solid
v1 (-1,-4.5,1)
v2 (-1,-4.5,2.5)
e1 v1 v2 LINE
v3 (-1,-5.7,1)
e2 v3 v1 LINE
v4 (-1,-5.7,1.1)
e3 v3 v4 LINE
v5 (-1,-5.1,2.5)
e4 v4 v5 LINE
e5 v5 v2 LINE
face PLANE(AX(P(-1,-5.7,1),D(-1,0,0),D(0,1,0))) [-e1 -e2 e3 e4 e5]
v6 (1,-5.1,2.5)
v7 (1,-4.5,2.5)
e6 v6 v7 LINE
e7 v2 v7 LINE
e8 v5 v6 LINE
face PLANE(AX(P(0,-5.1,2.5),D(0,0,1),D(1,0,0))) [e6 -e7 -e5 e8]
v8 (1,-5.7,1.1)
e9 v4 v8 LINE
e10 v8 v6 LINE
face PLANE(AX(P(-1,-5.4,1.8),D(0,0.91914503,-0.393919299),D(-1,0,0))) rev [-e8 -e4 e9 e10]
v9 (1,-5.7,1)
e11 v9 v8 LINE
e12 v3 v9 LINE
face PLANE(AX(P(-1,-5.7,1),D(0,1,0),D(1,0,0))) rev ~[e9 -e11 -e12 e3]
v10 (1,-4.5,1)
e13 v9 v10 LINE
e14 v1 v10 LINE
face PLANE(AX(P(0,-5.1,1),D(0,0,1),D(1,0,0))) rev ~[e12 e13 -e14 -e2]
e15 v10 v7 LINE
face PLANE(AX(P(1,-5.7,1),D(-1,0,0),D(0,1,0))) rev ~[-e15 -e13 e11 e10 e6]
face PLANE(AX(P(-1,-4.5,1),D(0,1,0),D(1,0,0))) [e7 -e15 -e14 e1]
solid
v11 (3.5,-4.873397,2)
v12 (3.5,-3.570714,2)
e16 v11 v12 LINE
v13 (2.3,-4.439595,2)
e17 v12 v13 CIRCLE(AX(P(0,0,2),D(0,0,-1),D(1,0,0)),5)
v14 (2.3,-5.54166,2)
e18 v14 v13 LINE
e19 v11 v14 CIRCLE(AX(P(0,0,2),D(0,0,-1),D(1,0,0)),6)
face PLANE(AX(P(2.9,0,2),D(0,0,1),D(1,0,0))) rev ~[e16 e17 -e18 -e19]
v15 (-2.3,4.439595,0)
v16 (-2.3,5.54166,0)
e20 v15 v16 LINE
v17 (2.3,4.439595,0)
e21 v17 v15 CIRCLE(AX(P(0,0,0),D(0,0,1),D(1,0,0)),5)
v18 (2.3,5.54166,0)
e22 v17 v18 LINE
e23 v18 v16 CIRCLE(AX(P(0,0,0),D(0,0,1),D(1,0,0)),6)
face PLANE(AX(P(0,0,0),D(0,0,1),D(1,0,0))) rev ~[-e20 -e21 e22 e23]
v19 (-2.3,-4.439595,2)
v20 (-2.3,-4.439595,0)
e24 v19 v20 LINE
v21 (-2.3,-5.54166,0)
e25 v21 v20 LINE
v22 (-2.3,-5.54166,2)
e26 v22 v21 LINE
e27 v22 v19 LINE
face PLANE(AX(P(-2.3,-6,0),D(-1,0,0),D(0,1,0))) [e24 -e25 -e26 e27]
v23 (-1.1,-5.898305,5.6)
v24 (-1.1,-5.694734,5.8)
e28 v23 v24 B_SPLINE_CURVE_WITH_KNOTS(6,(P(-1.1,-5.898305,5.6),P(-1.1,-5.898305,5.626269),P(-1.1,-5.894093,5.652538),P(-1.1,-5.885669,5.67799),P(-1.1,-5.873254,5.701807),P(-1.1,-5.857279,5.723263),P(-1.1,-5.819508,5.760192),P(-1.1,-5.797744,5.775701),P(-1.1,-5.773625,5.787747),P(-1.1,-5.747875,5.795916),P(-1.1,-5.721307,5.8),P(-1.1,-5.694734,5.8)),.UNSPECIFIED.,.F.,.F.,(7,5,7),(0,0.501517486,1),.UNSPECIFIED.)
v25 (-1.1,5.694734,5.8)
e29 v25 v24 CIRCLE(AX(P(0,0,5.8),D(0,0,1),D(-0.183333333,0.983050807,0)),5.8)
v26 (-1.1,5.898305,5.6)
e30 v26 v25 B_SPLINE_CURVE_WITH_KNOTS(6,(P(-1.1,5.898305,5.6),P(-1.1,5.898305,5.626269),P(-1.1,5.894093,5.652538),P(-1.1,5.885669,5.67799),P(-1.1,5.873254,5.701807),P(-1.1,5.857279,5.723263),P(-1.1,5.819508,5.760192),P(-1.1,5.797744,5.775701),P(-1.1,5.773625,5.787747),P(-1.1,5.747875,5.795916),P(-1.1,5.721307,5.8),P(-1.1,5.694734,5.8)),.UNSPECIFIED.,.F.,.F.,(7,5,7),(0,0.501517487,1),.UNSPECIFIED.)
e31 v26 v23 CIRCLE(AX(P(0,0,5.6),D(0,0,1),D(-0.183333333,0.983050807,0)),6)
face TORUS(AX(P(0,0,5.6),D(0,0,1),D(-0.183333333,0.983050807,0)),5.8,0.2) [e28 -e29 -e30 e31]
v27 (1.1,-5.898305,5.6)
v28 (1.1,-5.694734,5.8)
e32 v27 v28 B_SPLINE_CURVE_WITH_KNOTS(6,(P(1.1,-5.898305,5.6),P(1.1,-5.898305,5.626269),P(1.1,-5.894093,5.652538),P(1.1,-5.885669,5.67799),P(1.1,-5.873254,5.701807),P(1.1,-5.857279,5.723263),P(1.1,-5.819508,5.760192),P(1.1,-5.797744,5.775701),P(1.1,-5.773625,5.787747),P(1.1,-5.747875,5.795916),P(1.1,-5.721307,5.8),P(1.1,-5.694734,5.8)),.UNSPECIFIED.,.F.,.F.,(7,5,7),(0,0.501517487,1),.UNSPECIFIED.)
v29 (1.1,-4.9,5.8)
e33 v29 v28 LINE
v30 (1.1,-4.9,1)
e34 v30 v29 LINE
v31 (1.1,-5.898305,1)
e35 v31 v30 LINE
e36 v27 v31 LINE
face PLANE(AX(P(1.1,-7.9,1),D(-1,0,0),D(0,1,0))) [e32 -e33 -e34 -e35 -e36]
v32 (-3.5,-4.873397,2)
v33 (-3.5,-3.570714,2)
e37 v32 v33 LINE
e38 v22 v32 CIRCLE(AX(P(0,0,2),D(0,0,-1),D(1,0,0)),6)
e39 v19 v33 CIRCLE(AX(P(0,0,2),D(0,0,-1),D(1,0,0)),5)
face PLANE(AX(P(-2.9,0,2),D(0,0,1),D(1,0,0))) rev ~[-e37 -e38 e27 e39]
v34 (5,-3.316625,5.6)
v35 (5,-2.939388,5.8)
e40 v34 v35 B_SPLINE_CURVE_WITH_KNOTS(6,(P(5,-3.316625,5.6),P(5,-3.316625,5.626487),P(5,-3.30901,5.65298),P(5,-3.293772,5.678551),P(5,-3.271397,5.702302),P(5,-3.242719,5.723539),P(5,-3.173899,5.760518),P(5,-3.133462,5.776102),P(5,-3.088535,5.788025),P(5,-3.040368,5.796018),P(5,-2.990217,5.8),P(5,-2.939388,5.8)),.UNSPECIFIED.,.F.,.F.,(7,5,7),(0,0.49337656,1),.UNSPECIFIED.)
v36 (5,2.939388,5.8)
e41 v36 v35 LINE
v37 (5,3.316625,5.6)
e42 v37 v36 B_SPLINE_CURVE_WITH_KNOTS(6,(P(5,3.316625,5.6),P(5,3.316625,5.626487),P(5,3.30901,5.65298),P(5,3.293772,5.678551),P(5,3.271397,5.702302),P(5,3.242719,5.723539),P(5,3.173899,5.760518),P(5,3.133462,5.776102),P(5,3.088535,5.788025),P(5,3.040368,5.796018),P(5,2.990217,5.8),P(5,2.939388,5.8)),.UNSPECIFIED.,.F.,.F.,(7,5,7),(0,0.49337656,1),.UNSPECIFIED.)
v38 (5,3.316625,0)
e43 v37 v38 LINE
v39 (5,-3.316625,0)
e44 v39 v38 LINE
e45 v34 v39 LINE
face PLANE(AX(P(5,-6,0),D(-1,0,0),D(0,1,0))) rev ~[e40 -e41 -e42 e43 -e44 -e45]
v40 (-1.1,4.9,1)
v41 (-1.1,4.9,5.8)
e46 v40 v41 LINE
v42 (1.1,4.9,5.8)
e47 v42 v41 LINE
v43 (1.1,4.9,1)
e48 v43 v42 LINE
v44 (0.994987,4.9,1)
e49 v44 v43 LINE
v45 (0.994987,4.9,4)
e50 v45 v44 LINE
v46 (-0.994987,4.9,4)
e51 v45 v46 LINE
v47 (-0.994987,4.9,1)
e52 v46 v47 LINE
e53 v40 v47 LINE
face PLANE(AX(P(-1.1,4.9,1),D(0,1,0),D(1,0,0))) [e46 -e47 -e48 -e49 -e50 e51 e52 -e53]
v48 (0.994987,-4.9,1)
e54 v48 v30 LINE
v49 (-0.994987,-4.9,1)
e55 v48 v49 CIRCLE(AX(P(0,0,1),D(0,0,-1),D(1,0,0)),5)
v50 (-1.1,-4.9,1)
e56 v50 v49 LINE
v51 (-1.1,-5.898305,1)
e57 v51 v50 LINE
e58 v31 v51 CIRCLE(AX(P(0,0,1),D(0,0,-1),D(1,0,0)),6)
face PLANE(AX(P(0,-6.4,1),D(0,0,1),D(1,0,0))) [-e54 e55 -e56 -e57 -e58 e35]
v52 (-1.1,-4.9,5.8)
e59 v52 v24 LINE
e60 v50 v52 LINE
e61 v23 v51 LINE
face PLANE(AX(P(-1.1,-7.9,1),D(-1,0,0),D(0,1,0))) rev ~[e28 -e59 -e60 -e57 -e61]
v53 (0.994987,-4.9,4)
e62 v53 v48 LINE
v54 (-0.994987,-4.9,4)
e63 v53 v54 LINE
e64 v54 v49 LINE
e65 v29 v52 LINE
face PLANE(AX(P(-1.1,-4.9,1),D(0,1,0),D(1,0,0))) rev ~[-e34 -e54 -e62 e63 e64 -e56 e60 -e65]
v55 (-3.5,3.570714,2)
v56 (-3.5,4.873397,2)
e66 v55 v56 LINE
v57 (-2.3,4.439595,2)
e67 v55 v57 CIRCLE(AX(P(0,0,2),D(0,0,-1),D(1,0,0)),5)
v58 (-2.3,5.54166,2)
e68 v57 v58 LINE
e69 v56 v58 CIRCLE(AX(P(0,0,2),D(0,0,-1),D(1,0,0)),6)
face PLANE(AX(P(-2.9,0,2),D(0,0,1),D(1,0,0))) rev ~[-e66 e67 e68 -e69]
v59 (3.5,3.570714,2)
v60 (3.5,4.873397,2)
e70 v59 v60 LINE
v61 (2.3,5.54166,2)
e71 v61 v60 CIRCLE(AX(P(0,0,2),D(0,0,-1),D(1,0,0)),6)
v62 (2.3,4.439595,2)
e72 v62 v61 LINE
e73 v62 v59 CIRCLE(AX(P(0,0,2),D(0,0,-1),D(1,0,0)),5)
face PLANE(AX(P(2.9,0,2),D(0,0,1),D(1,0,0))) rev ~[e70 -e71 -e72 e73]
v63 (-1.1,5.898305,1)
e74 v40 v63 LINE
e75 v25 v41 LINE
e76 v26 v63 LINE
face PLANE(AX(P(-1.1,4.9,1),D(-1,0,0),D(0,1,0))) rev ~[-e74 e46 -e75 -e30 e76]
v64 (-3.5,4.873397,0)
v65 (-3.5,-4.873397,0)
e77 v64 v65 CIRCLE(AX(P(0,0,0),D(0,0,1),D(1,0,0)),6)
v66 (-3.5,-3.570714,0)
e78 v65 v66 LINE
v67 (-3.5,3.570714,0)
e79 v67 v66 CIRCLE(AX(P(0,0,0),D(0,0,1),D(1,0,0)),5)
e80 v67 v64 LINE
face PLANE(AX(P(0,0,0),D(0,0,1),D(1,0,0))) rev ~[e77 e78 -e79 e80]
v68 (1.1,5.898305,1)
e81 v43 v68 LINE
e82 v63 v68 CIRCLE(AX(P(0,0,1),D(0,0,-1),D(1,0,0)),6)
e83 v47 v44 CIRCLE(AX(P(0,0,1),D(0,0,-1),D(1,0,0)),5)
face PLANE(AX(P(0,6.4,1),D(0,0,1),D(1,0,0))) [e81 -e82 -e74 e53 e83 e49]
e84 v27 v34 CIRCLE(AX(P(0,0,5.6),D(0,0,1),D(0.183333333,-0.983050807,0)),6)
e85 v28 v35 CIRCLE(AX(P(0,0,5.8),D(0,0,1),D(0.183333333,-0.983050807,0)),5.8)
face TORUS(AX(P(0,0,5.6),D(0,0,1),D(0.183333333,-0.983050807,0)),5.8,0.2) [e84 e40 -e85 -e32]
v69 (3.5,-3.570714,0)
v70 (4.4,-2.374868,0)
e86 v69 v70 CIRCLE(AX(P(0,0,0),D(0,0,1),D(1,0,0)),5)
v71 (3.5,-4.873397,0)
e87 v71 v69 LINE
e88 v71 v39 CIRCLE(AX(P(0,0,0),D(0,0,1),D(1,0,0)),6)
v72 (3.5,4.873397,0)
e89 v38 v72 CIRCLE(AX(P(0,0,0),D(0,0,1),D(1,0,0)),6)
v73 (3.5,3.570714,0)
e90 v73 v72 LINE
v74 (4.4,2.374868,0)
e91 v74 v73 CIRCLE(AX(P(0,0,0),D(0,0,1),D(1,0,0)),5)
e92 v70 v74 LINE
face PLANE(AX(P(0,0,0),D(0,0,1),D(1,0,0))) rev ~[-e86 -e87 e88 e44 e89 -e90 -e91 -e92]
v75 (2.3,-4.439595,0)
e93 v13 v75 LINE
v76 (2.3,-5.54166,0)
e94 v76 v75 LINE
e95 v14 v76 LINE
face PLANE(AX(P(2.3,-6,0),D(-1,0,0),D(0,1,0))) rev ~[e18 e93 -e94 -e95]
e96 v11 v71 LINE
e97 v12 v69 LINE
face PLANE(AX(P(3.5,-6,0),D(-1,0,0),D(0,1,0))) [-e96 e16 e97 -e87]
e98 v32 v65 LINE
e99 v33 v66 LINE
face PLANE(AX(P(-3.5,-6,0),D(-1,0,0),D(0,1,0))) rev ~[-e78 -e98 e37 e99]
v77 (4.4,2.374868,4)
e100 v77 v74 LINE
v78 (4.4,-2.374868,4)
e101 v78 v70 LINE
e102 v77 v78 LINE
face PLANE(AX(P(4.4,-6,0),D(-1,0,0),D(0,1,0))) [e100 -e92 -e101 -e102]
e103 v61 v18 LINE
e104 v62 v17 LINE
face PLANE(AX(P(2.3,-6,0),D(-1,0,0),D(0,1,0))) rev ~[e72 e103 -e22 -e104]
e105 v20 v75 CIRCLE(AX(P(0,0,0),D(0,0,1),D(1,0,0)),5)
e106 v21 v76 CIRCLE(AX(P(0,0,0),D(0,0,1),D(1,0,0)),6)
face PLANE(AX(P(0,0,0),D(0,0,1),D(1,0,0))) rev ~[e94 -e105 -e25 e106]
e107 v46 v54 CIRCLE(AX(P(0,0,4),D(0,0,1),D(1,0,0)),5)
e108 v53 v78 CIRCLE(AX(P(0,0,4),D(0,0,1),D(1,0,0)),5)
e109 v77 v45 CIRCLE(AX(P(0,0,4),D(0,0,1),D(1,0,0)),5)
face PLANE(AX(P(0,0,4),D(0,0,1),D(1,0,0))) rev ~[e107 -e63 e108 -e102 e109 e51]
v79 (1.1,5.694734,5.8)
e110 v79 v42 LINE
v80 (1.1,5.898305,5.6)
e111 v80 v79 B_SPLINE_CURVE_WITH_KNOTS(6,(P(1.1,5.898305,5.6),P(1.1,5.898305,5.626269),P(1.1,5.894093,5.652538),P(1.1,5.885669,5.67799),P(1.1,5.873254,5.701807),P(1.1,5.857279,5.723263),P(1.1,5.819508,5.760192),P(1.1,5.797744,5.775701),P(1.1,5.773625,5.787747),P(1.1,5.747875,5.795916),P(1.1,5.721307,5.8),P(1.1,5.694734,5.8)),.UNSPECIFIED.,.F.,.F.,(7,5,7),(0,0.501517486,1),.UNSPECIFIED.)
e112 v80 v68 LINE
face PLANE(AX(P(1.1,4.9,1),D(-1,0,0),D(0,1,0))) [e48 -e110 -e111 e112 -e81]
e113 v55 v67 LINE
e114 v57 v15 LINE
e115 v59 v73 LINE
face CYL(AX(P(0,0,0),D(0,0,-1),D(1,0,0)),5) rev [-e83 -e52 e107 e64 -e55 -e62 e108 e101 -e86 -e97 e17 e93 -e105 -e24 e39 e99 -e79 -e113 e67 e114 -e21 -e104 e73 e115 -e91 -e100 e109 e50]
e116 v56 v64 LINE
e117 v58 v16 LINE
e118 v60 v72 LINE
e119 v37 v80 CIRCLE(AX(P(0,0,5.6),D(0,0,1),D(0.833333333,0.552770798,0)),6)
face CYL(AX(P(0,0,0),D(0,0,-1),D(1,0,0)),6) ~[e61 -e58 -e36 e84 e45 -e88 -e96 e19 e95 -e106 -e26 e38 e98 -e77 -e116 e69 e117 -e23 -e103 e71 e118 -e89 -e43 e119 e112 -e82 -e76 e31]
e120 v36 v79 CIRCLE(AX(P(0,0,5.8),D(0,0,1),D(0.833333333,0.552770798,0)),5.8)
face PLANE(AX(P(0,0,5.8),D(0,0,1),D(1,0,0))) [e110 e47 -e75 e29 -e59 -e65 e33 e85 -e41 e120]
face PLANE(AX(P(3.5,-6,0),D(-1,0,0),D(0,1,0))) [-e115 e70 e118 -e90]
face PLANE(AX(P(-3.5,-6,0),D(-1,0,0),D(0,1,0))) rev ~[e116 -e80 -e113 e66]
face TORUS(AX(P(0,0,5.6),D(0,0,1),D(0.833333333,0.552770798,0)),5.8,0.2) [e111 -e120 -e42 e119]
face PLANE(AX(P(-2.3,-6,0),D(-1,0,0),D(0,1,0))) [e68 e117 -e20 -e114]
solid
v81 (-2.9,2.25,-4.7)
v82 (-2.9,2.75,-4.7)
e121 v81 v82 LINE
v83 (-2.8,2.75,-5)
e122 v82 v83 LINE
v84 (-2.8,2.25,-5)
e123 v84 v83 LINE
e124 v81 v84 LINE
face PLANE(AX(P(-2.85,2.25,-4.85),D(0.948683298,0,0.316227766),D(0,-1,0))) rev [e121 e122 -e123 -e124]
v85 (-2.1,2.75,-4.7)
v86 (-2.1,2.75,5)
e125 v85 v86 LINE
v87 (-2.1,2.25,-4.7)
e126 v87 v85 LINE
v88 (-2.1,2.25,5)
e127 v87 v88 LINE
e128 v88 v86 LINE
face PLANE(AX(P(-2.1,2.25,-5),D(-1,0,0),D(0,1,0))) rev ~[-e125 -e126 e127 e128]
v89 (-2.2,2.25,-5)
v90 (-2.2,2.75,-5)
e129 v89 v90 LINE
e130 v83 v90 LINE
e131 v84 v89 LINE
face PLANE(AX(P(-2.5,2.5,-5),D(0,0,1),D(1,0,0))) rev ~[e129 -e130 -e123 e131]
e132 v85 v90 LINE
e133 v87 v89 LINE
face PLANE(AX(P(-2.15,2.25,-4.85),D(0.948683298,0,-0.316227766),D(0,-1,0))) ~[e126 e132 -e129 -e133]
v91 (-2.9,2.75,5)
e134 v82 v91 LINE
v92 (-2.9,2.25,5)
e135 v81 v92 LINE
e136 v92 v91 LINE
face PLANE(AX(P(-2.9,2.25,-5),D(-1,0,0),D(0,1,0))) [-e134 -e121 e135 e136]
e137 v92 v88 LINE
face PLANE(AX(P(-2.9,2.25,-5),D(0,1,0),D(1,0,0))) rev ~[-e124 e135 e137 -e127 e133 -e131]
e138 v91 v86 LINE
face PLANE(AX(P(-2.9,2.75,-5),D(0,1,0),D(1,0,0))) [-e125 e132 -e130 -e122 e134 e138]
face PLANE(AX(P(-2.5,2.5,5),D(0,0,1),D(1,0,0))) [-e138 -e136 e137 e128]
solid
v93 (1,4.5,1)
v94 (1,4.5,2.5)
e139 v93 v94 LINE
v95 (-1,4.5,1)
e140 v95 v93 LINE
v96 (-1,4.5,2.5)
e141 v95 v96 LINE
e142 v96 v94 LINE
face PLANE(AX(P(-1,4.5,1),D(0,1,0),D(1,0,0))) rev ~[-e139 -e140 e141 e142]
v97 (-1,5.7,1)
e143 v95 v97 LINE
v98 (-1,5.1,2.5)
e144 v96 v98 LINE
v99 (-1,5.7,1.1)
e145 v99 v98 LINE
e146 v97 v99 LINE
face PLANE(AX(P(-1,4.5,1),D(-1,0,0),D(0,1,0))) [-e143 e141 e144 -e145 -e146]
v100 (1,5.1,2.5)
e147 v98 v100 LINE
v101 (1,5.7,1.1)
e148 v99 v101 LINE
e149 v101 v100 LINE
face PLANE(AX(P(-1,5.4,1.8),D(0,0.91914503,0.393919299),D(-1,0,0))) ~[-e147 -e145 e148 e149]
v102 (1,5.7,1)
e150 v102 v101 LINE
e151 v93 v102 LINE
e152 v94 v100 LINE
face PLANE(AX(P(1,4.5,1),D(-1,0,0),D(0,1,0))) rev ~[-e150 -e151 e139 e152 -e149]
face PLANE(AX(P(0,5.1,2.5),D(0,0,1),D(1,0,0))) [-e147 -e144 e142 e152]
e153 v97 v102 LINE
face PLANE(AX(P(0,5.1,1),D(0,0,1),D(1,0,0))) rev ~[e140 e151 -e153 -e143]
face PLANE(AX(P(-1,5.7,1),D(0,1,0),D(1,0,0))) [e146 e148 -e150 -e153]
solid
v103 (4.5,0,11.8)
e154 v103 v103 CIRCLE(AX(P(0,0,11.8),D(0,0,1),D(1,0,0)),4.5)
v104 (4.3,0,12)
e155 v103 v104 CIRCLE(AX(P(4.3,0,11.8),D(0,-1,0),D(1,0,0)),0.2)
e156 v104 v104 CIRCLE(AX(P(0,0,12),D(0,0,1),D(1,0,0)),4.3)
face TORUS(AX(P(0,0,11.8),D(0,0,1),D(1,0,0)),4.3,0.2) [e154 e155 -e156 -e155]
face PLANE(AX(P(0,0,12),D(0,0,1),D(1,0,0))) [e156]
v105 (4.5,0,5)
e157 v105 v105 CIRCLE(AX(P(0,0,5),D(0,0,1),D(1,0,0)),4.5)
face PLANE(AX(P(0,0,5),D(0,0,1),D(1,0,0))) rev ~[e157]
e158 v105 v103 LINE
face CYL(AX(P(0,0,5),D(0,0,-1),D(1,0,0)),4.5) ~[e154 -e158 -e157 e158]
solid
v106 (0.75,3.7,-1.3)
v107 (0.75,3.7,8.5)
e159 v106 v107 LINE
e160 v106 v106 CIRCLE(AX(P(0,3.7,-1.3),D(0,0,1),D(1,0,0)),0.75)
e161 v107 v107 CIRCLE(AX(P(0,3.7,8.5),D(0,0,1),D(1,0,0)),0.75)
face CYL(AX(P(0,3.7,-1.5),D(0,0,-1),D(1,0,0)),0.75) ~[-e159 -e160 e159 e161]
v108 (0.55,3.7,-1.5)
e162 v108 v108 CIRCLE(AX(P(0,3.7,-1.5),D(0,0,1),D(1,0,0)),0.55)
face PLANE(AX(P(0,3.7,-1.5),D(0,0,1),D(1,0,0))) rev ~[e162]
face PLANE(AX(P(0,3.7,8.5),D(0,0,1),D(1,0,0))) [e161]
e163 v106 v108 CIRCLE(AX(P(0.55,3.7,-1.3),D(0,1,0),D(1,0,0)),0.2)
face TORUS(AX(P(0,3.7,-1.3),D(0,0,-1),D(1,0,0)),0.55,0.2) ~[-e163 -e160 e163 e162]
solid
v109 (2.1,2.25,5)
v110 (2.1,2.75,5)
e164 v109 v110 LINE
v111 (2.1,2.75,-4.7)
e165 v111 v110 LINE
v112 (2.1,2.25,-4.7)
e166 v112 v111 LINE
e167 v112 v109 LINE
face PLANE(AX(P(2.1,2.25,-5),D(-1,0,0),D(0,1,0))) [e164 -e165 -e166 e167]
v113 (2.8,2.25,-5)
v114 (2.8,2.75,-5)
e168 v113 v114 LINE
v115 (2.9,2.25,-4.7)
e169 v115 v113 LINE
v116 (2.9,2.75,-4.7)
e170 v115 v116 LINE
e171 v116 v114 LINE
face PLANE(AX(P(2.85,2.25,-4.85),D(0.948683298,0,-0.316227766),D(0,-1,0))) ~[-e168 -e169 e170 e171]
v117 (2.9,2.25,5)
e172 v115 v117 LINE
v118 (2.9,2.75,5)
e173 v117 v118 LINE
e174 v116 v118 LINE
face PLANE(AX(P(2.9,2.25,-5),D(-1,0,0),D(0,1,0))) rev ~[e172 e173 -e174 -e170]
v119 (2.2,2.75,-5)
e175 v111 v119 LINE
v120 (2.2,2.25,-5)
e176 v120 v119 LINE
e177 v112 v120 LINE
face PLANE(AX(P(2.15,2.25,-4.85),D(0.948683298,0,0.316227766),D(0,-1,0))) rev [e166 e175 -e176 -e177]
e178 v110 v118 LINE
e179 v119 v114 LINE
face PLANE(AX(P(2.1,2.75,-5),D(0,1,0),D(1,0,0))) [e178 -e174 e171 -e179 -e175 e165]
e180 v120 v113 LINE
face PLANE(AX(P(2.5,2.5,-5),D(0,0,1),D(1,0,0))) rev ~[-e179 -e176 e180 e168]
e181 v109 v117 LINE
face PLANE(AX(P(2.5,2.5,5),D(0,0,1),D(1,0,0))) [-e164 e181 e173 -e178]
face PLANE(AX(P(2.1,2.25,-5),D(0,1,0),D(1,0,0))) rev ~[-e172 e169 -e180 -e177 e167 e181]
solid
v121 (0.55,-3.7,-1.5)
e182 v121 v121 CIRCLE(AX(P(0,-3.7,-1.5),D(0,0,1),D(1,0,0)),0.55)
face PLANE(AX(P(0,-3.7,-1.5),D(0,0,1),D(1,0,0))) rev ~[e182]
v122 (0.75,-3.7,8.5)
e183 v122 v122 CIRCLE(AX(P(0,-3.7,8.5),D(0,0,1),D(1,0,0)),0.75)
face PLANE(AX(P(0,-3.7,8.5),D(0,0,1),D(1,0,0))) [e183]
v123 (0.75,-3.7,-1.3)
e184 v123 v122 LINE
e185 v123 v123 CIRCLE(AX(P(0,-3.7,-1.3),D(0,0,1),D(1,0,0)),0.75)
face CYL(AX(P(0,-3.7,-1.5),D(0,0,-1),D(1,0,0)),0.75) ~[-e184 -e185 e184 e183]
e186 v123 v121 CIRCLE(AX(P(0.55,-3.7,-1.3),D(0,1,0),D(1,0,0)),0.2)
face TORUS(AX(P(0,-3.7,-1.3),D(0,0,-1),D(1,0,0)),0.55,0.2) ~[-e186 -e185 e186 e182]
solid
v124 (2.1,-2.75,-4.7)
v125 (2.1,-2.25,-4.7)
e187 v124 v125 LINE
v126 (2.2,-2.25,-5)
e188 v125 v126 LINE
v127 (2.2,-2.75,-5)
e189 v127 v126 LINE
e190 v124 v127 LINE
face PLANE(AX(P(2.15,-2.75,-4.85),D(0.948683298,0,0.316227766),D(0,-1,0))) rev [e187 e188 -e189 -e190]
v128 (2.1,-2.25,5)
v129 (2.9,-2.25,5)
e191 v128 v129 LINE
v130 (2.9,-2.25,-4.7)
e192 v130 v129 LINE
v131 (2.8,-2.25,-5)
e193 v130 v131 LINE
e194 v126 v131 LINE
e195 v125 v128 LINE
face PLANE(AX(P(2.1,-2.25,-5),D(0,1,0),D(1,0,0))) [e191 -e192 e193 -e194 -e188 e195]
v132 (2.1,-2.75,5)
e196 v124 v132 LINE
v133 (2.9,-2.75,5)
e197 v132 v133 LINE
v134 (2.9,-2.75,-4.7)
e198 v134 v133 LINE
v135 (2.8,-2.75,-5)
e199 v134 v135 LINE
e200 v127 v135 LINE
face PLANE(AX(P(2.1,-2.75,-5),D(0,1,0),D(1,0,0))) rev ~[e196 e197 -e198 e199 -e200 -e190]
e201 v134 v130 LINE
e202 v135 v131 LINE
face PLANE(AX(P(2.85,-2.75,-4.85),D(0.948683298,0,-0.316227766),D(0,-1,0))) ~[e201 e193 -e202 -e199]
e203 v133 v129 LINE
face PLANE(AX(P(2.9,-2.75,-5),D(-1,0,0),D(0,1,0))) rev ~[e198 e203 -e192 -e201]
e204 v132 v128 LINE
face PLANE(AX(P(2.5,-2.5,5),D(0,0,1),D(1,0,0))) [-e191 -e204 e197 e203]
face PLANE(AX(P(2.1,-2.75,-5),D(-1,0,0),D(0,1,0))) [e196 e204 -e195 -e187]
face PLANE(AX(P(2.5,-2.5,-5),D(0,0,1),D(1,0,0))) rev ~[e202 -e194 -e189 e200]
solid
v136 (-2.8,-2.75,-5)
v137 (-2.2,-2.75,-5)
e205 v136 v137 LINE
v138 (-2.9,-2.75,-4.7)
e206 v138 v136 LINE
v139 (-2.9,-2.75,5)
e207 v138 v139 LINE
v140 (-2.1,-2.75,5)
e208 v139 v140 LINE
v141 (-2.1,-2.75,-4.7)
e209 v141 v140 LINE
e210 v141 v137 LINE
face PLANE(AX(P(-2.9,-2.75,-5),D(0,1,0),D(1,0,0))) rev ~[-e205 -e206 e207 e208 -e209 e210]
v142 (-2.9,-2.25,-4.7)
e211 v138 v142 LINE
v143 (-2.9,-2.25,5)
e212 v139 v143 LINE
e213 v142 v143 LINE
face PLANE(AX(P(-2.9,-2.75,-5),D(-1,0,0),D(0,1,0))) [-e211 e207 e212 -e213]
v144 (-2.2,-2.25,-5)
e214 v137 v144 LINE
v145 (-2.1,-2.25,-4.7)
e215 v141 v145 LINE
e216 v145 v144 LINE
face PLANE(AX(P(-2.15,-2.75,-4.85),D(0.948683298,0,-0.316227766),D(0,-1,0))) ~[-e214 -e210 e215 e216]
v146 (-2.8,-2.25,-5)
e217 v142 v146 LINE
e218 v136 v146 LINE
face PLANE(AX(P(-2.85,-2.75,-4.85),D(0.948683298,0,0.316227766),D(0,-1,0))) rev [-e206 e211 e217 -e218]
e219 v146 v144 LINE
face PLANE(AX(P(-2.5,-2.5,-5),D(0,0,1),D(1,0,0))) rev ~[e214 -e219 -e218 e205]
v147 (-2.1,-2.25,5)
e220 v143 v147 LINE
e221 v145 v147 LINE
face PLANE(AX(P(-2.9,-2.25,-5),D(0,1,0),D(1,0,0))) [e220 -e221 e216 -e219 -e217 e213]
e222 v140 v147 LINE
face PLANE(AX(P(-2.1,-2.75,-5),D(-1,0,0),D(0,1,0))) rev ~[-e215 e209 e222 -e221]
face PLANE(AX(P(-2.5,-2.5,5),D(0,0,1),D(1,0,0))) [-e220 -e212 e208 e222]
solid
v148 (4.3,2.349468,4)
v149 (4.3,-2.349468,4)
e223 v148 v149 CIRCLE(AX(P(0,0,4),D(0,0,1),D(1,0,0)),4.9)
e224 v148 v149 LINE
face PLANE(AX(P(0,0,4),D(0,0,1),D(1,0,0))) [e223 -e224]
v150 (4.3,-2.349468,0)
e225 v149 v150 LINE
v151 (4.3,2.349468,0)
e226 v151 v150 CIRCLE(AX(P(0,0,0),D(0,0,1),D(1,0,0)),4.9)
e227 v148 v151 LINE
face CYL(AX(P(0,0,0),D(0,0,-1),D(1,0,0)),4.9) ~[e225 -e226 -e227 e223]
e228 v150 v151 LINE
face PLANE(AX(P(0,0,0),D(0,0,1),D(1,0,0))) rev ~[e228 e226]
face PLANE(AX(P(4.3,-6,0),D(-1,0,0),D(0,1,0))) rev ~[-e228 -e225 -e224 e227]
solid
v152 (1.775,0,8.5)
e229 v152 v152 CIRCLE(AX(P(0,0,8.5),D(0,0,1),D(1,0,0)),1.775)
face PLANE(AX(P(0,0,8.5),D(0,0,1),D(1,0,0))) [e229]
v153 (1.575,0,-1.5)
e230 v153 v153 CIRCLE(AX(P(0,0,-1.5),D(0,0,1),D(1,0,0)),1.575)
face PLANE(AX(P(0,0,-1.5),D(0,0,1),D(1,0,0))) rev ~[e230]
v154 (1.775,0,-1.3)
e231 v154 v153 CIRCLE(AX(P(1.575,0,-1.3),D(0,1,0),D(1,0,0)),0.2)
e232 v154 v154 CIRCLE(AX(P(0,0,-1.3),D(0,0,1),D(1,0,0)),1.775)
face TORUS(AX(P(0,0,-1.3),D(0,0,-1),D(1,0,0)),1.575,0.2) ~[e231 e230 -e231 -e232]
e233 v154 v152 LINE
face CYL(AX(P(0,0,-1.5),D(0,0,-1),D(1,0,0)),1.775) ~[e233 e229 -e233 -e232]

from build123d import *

# Parameters (mm, degrees)
CYLINDER004_R      = 0.75
CYLINDER004_DEPTH  = 10
FILLET_R           = 0.2
BOX002_W           = 1
BOX002_H           = 12
BOX002_DEPTH       = 5
CYLINDER006_R      = 4.9
CYLINDER006_DEPTH  = 4
CYLINDER002_R      = 1.775
CYLINDER002_DEPTH  = 10
FILLET002_R        = 0.2
CYLINDER003_R      = 0.75
CYLINDER003_DEPTH  = 10
FILLET003_R        = 0.2
CYLINDER_R         = 4.5
CYLINDER_DEPTH     = 7
FILLET004_R        = 0.2
BOX006_W           = 2.2
BOX006_H           = 3
BOX006_DEPTH       = 5
BOX005_W           = 2.2
BOX005_H           = 3
BOX005_DEPTH       = 5
BOX004_W           = 1.2
BOX004_H           = 12
BOX004_DEPTH       = 2
BOX003_W           = 1.2
BOX003_H           = 12
BOX003_DEPTH       = 2
BOX001_W           = 1
BOX001_H           = 12
BOX001_DEPTH       = 5
CYLINDER005_R      = 5
CYLINDER005_DEPTH  = 4
BOX_W              = 1
BOX_H              = 12
BOX_DEPTH          = 6
CYLINDER001_R      = 6
CYLINDER001_DEPTH  = 5.8
FILLET005_R        = 0.2
FILLET006_R        = 0.2
BOX007_W           = 0.8
BOX007_H           = 0.5
BOX007_DEPTH       = 10
CHAMFER_1_SIZE2    = 0.1
CHAMFER_1_SIZE     = 0.3
CHAMFER_2_SIZE2    = 0.1
CHAMFER_2_SIZE     = 0.3
BOX008_W           = 0.8
BOX008_H           = 0.5
BOX008_DEPTH       = 10
CHAMFER001_1_SIZE2 = 0.1
CHAMFER001_1_SIZE  = 0.3
CHAMFER001_2_SIZE2 = 0.1
CHAMFER001_2_SIZE  = 0.3
BOX009_W           = 0.8
BOX009_H           = 0.5
BOX009_DEPTH       = 10
CHAMFER002_1_SIZE2 = 0.1
CHAMFER002_1_SIZE  = 0.3
CHAMFER002_2_SIZE2 = 0.1
CHAMFER002_2_SIZE  = 0.3
BOX010_W           = 0.8
BOX010_H           = 0.5
BOX010_DEPTH       = 10
CHAMFER003_1_SIZE2 = 0.1
CHAMFER003_1_SIZE  = 0.3
CHAMFER003_2_SIZE2 = 0.1
CHAMFER003_2_SIZE  = 0.3
BOX012_W           = 2
BOX012_H           = 1.2
BOX012_DEPTH       = 1.5
CHAMFER005_SIZE2   = 0.6
CHAMFER005_SIZE    = 1.4
BOX013_W           = 2
BOX013_H           = 1.2
BOX013_DEPTH       = 1.5
CHAMFER006_SIZE2   = 0.6
CHAMFER006_SIZE    = 1.4


with BuildPart() as fillet_body:
    # Cylinder004 → Cylinder004 (new body)
    with BuildSketch(Plane(origin=(0, -3.7, -1.5), x_dir=(1, 0, 0), z_dir=(0, 0, 1))):
        Circle(CYLINDER004_R)
    extrude(amount=CYLINDER004_DEPTH)

    # Fillet
    fillet_edges = [fillet_body.edges().sort_by_distance(p)[0] for p in [
        (-0.75, -3.7, -1.5),
    ]]
    fillet(fillet_edges, radius=FILLET_R)


with BuildPart() as cube002:
    # Box002 → Box002 (new body)
    with BuildSketch(Plane(origin=(4.3, -6, 0), x_dir=(1, 0, 0), z_dir=(0, 0, 1))):
        with Locations((0.5, 6)):
            Rectangle(BOX002_W, BOX002_H)
    extrude(amount=BOX002_DEPTH)


with BuildPart() as cut003:
    # Cylinder006 → Cylinder006 (new body)
    with BuildSketch(Plane.XY):
        Circle(CYLINDER006_R)
    extrude(amount=CYLINDER006_DEPTH)

    # Cut003: cut Cube002
    add(cube002.part, mode=Mode.SUBTRACT)


with BuildPart() as fillet002:
    # Cylinder002 → Cylinder002 (new body)
    with BuildSketch(Plane.XY.offset(-1.5)):
        Circle(CYLINDER002_R)
    extrude(amount=CYLINDER002_DEPTH)

    # Fillet002
    fillet002_edges = [fillet002.edges().sort_by_distance(p)[0] for p in [
        (-1.775, 0, -1.5),
    ]]
    fillet(fillet002_edges, radius=FILLET002_R)


with BuildPart() as fillet003:
    # Cylinder003 → Cylinder003 (new body)
    with BuildSketch(Plane(origin=(0, 3.7, -1.5), x_dir=(1, 0, 0), z_dir=(0, 0, 1))):
        Circle(CYLINDER003_R)
    extrude(amount=CYLINDER003_DEPTH)

    # Fillet003
    fillet003_edges = [fillet003.edges().sort_by_distance(p)[0] for p in [
        (-0.75, 3.7, -1.5),
    ]]
    fillet(fillet003_edges, radius=FILLET003_R)


with BuildPart() as fillet004:
    # Cylinder → Cylinder (new body)
    with BuildSketch(Plane.XY.offset(5)):
        Circle(CYLINDER_R)
    extrude(amount=CYLINDER_DEPTH)

    # Fillet004
    fillet004_edges = [fillet004.edges().sort_by_distance(p)[0] for p in [
        (-4.5, 0, 12),
    ]]
    fillet(fillet004_edges, radius=FILLET004_R)


with BuildPart() as cube006:
    # Box006 → Box006 (new body)
    with BuildSketch(Plane(origin=(-1.1, 4.9, 1), x_dir=(1, 0, 0), z_dir=(0, 0, 1))):
        with Locations((1.1, 1.5)):
            Rectangle(BOX006_W, BOX006_H)
    extrude(amount=BOX006_DEPTH)


with BuildPart() as cube005:
    # Box005 → Box005 (new body)
    with BuildSketch(Plane(origin=(-1.1, -7.9, 1), x_dir=(1, 0, 0), z_dir=(0, 0, 1))):
        with Locations((1.1, 1.5)):
            Rectangle(BOX005_W, BOX005_H)
    extrude(amount=BOX005_DEPTH)


with BuildPart() as cube004:
    # Box004 → Box004 (new body)
    with BuildSketch(Plane(origin=(-3.5, -6, 0), x_dir=(1, 0, 0), z_dir=(0, 0, 1))):
        with Locations((0.6, 6)):
            Rectangle(BOX004_W, BOX004_H)
    extrude(amount=BOX004_DEPTH)


with BuildPart() as cube003:
    # Box003 → Box003 (new body)
    with BuildSketch(Plane(origin=(2.3, -6, 0), x_dir=(1, 0, 0), z_dir=(0, 0, 1))):
        with Locations((0.6, 6)):
            Rectangle(BOX003_W, BOX003_H)
    extrude(amount=BOX003_DEPTH)


with BuildPart() as cube001:
    # Box001 → Box001 (new body)
    with BuildSketch(Plane(origin=(4.4, -6, 0), x_dir=(1, 0, 0), z_dir=(0, 0, 1))):
        with Locations((0.5, 6)):
            Rectangle(BOX001_W, BOX001_H)
    extrude(amount=BOX001_DEPTH)


with BuildPart() as cut001:
    # Cylinder005 → Cylinder005 (new body)
    with BuildSketch(Plane.XY):
        Circle(CYLINDER005_R)
    extrude(amount=CYLINDER005_DEPTH)

    # Cut001: cut Cube001
    add(cube001.part, mode=Mode.SUBTRACT)


with BuildPart() as cube:
    # Box → Box (new body)
    with BuildSketch(Plane(origin=(5, -6, 0), x_dir=(1, 0, 0), z_dir=(0, 0, 1))):
        with Locations((0.5, 6)):
            Rectangle(BOX_W, BOX_H)
    extrude(amount=BOX_DEPTH)


with BuildPart() as fillet006:
    # Cylinder001 → Cylinder001 (new body)
    with BuildSketch(Plane.XY):
        Circle(CYLINDER001_R)
    extrude(amount=CYLINDER001_DEPTH)

    # Cut: cut Cube
    add(cube.part, mode=Mode.SUBTRACT)

    # Cut002: cut Cut001
    add(cut001.part, mode=Mode.SUBTRACT)

    # Cut004: cut Cube003
    add(cube003.part, mode=Mode.SUBTRACT)

    # Cut005: cut Cube004
    add(cube004.part, mode=Mode.SUBTRACT)

    # Cut006: cut Cube005
    add(cube005.part, mode=Mode.SUBTRACT)

    # Cut007: cut Cube006
    add(cube006.part, mode=Mode.SUBTRACT)

    # Fillet005
    fillet005_edges = [fillet006.edges().sort_by_distance(p)[0] for p in [
        (3.311913, 5.003122, 5.8),
        (-6, 0, 5.8),
    ]]
    fillet(fillet005_edges, radius=FILLET005_R)

    # Fillet006
    fillet006_edges = [fillet006.edges().sort_by_distance(p)[0] for p in [
        (3.311913, -5.003122, 5.8),
    ]]
    fillet(fillet006_edges, radius=FILLET006_R)


with BuildPart() as chamfer000:
    # Box007 → Box007 (new body)
    with BuildSketch(Plane.XY.offset(-5)):
        with Locations((0.4, 0.25)):
            Rectangle(BOX007_W, BOX007_H)
    extrude(amount=BOX007_DEPTH)

    # Chamfer 1
    chamfer_1_edges = [chamfer000.edges().sort_by_distance(p)[0] for p in [
        (0.8, 0.25, -5),
    ]]
    chamfer_1_side = chamfer000.faces().sort_by_distance((0.8, 0.25, 0))[0]
    chamfer(chamfer_1_edges, length=CHAMFER_1_SIZE, length2=CHAMFER_1_SIZE2, reference=chamfer_1_side)

    # Chamfer 2
    chamfer_2_edges = [chamfer000.edges().sort_by_distance(p)[0] for p in [
        (0, 0.25, -5),
    ]]
    chamfer_2_side = chamfer000.faces().sort_by_distance((0, 0.25, 0))[0]
    chamfer(chamfer_2_edges, length=CHAMFER_2_SIZE, length2=CHAMFER_2_SIZE2, reference=chamfer_2_side)


with BuildPart() as chamfer000_1:
    # Chamfer placement: moved
    add(chamfer000.part.moved(Location((-2.9, 2.25, 0))))


with BuildPart() as chamfer001:
    # Box008 → Box008 (new body)
    with BuildSketch(Plane.XY.offset(-5)):
        with Locations((0.4, 0.25)):
            Rectangle(BOX008_W, BOX008_H)
    extrude(amount=BOX008_DEPTH)

    # Chamfer001 1
    chamfer001_1_edges = [chamfer001.edges().sort_by_distance(p)[0] for p in [
        (0.8, 0.25, -5),
    ]]
    chamfer001_1_side = chamfer001.faces().sort_by_distance((0.8, 0.25, 0))[0]
    chamfer(chamfer001_1_edges, length=CHAMFER001_1_SIZE, length2=CHAMFER001_1_SIZE2, reference=chamfer001_1_side)

    # Chamfer001 2
    chamfer001_2_edges = [chamfer001.edges().sort_by_distance(p)[0] for p in [
        (0, 0.25, -5),
    ]]
    chamfer001_2_side = chamfer001.faces().sort_by_distance((0, 0.25, 0))[0]
    chamfer(chamfer001_2_edges, length=CHAMFER001_2_SIZE, length2=CHAMFER001_2_SIZE2, reference=chamfer001_2_side)


with BuildPart() as chamfer001_1:
    # Chamfer001 placement: moved
    add(chamfer001.part.moved(Location((-2.9, -2.75, 0))))


with BuildPart() as chamfer002:
    # Box009 → Box009 (new body)
    with BuildSketch(Plane.XY.offset(-5)):
        with Locations((0.4, 0.25)):
            Rectangle(BOX009_W, BOX009_H)
    extrude(amount=BOX009_DEPTH)

    # Chamfer002 1
    chamfer002_1_edges = [chamfer002.edges().sort_by_distance(p)[0] for p in [
        (0.8, 0.25, -5),
    ]]
    chamfer002_1_side = chamfer002.faces().sort_by_distance((0.8, 0.25, 0))[0]
    chamfer(chamfer002_1_edges, length=CHAMFER002_1_SIZE, length2=CHAMFER002_1_SIZE2, reference=chamfer002_1_side)

    # Chamfer002 2
    chamfer002_2_edges = [chamfer002.edges().sort_by_distance(p)[0] for p in [
        (0, 0.25, -5),
    ]]
    chamfer002_2_side = chamfer002.faces().sort_by_distance((0, 0.25, 0))[0]
    chamfer(chamfer002_2_edges, length=CHAMFER002_2_SIZE, length2=CHAMFER002_2_SIZE2, reference=chamfer002_2_side)


with BuildPart() as chamfer002_1:
    # Chamfer002 placement: moved
    add(chamfer002.part.moved(Location((2.1, -2.75, 0))))


with BuildPart() as chamfer003:
    # Box010 → Box010 (new body)
    with BuildSketch(Plane.XY.offset(-5)):
        with Locations((0.4, 0.25)):
            Rectangle(BOX010_W, BOX010_H)
    extrude(amount=BOX010_DEPTH)

    # Chamfer003 1
    chamfer003_1_edges = [chamfer003.edges().sort_by_distance(p)[0] for p in [
        (0.8, 0.25, -5),
    ]]
    chamfer003_1_side = chamfer003.faces().sort_by_distance((0.8, 0.25, 0))[0]
    chamfer(chamfer003_1_edges, length=CHAMFER003_1_SIZE, length2=CHAMFER003_1_SIZE2, reference=chamfer003_1_side)

    # Chamfer003 2
    chamfer003_2_edges = [chamfer003.edges().sort_by_distance(p)[0] for p in [
        (0, 0.25, -5),
    ]]
    chamfer003_2_side = chamfer003.faces().sort_by_distance((0, 0.25, 0))[0]
    chamfer(chamfer003_2_edges, length=CHAMFER003_2_SIZE, length2=CHAMFER003_2_SIZE2, reference=chamfer003_2_side)


with BuildPart() as chamfer003_1:
    # Chamfer003 placement: moved
    add(chamfer003.part.moved(Location((2.1, 2.25, 0))))


with BuildPart() as chamfer005:
    # Box012 → Box012 (new body)
    with BuildSketch(Plane(origin=(-1, -5.7, 1), x_dir=(1, 0, 0), z_dir=(0, 0, 1))):
        with Locations((1, 0.6)):
            Rectangle(BOX012_W, BOX012_H)
    extrude(amount=BOX012_DEPTH)

    # Chamfer005
    chamfer005_edges = [chamfer005.edges().sort_by_distance(p)[0] for p in [
        (0, -5.7, 2.5),
    ]]
    chamfer005_side = chamfer005.faces().sort_by_distance((0, -5.7, 1.75))[0]
    chamfer(chamfer005_edges, length=CHAMFER005_SIZE, length2=CHAMFER005_SIZE2, reference=chamfer005_side)


with BuildPart() as chamfer006:
    # Box013 → Box013 (new body)
    with BuildSketch(Plane(origin=(-1, 4.5, 1), x_dir=(1, 0, 0), z_dir=(0, 0, 1))):
        with Locations((1, 0.6)):
            Rectangle(BOX013_W, BOX013_H)
    extrude(amount=BOX013_DEPTH)

    # Chamfer006
    chamfer006_edges = [chamfer006.edges().sort_by_distance(p)[0] for p in [
        (0, 5.7, 2.5),
    ]]
    chamfer006_side = chamfer006.faces().sort_by_distance((0, 5.7, 1.75))[0]
    chamfer(chamfer006_edges, length=CHAMFER006_SIZE, length2=CHAMFER006_SIZE2, reference=chamfer006_side)


solid = Compound([fillet_body.part, cut003.part, fillet002.part, fillet003.part, fillet004.part, fillet006.part, chamfer000_1.part, chamfer001_1.part, chamfer002_1.part, chamfer003_1.part, chamfer005.part, chamfer006.part])
